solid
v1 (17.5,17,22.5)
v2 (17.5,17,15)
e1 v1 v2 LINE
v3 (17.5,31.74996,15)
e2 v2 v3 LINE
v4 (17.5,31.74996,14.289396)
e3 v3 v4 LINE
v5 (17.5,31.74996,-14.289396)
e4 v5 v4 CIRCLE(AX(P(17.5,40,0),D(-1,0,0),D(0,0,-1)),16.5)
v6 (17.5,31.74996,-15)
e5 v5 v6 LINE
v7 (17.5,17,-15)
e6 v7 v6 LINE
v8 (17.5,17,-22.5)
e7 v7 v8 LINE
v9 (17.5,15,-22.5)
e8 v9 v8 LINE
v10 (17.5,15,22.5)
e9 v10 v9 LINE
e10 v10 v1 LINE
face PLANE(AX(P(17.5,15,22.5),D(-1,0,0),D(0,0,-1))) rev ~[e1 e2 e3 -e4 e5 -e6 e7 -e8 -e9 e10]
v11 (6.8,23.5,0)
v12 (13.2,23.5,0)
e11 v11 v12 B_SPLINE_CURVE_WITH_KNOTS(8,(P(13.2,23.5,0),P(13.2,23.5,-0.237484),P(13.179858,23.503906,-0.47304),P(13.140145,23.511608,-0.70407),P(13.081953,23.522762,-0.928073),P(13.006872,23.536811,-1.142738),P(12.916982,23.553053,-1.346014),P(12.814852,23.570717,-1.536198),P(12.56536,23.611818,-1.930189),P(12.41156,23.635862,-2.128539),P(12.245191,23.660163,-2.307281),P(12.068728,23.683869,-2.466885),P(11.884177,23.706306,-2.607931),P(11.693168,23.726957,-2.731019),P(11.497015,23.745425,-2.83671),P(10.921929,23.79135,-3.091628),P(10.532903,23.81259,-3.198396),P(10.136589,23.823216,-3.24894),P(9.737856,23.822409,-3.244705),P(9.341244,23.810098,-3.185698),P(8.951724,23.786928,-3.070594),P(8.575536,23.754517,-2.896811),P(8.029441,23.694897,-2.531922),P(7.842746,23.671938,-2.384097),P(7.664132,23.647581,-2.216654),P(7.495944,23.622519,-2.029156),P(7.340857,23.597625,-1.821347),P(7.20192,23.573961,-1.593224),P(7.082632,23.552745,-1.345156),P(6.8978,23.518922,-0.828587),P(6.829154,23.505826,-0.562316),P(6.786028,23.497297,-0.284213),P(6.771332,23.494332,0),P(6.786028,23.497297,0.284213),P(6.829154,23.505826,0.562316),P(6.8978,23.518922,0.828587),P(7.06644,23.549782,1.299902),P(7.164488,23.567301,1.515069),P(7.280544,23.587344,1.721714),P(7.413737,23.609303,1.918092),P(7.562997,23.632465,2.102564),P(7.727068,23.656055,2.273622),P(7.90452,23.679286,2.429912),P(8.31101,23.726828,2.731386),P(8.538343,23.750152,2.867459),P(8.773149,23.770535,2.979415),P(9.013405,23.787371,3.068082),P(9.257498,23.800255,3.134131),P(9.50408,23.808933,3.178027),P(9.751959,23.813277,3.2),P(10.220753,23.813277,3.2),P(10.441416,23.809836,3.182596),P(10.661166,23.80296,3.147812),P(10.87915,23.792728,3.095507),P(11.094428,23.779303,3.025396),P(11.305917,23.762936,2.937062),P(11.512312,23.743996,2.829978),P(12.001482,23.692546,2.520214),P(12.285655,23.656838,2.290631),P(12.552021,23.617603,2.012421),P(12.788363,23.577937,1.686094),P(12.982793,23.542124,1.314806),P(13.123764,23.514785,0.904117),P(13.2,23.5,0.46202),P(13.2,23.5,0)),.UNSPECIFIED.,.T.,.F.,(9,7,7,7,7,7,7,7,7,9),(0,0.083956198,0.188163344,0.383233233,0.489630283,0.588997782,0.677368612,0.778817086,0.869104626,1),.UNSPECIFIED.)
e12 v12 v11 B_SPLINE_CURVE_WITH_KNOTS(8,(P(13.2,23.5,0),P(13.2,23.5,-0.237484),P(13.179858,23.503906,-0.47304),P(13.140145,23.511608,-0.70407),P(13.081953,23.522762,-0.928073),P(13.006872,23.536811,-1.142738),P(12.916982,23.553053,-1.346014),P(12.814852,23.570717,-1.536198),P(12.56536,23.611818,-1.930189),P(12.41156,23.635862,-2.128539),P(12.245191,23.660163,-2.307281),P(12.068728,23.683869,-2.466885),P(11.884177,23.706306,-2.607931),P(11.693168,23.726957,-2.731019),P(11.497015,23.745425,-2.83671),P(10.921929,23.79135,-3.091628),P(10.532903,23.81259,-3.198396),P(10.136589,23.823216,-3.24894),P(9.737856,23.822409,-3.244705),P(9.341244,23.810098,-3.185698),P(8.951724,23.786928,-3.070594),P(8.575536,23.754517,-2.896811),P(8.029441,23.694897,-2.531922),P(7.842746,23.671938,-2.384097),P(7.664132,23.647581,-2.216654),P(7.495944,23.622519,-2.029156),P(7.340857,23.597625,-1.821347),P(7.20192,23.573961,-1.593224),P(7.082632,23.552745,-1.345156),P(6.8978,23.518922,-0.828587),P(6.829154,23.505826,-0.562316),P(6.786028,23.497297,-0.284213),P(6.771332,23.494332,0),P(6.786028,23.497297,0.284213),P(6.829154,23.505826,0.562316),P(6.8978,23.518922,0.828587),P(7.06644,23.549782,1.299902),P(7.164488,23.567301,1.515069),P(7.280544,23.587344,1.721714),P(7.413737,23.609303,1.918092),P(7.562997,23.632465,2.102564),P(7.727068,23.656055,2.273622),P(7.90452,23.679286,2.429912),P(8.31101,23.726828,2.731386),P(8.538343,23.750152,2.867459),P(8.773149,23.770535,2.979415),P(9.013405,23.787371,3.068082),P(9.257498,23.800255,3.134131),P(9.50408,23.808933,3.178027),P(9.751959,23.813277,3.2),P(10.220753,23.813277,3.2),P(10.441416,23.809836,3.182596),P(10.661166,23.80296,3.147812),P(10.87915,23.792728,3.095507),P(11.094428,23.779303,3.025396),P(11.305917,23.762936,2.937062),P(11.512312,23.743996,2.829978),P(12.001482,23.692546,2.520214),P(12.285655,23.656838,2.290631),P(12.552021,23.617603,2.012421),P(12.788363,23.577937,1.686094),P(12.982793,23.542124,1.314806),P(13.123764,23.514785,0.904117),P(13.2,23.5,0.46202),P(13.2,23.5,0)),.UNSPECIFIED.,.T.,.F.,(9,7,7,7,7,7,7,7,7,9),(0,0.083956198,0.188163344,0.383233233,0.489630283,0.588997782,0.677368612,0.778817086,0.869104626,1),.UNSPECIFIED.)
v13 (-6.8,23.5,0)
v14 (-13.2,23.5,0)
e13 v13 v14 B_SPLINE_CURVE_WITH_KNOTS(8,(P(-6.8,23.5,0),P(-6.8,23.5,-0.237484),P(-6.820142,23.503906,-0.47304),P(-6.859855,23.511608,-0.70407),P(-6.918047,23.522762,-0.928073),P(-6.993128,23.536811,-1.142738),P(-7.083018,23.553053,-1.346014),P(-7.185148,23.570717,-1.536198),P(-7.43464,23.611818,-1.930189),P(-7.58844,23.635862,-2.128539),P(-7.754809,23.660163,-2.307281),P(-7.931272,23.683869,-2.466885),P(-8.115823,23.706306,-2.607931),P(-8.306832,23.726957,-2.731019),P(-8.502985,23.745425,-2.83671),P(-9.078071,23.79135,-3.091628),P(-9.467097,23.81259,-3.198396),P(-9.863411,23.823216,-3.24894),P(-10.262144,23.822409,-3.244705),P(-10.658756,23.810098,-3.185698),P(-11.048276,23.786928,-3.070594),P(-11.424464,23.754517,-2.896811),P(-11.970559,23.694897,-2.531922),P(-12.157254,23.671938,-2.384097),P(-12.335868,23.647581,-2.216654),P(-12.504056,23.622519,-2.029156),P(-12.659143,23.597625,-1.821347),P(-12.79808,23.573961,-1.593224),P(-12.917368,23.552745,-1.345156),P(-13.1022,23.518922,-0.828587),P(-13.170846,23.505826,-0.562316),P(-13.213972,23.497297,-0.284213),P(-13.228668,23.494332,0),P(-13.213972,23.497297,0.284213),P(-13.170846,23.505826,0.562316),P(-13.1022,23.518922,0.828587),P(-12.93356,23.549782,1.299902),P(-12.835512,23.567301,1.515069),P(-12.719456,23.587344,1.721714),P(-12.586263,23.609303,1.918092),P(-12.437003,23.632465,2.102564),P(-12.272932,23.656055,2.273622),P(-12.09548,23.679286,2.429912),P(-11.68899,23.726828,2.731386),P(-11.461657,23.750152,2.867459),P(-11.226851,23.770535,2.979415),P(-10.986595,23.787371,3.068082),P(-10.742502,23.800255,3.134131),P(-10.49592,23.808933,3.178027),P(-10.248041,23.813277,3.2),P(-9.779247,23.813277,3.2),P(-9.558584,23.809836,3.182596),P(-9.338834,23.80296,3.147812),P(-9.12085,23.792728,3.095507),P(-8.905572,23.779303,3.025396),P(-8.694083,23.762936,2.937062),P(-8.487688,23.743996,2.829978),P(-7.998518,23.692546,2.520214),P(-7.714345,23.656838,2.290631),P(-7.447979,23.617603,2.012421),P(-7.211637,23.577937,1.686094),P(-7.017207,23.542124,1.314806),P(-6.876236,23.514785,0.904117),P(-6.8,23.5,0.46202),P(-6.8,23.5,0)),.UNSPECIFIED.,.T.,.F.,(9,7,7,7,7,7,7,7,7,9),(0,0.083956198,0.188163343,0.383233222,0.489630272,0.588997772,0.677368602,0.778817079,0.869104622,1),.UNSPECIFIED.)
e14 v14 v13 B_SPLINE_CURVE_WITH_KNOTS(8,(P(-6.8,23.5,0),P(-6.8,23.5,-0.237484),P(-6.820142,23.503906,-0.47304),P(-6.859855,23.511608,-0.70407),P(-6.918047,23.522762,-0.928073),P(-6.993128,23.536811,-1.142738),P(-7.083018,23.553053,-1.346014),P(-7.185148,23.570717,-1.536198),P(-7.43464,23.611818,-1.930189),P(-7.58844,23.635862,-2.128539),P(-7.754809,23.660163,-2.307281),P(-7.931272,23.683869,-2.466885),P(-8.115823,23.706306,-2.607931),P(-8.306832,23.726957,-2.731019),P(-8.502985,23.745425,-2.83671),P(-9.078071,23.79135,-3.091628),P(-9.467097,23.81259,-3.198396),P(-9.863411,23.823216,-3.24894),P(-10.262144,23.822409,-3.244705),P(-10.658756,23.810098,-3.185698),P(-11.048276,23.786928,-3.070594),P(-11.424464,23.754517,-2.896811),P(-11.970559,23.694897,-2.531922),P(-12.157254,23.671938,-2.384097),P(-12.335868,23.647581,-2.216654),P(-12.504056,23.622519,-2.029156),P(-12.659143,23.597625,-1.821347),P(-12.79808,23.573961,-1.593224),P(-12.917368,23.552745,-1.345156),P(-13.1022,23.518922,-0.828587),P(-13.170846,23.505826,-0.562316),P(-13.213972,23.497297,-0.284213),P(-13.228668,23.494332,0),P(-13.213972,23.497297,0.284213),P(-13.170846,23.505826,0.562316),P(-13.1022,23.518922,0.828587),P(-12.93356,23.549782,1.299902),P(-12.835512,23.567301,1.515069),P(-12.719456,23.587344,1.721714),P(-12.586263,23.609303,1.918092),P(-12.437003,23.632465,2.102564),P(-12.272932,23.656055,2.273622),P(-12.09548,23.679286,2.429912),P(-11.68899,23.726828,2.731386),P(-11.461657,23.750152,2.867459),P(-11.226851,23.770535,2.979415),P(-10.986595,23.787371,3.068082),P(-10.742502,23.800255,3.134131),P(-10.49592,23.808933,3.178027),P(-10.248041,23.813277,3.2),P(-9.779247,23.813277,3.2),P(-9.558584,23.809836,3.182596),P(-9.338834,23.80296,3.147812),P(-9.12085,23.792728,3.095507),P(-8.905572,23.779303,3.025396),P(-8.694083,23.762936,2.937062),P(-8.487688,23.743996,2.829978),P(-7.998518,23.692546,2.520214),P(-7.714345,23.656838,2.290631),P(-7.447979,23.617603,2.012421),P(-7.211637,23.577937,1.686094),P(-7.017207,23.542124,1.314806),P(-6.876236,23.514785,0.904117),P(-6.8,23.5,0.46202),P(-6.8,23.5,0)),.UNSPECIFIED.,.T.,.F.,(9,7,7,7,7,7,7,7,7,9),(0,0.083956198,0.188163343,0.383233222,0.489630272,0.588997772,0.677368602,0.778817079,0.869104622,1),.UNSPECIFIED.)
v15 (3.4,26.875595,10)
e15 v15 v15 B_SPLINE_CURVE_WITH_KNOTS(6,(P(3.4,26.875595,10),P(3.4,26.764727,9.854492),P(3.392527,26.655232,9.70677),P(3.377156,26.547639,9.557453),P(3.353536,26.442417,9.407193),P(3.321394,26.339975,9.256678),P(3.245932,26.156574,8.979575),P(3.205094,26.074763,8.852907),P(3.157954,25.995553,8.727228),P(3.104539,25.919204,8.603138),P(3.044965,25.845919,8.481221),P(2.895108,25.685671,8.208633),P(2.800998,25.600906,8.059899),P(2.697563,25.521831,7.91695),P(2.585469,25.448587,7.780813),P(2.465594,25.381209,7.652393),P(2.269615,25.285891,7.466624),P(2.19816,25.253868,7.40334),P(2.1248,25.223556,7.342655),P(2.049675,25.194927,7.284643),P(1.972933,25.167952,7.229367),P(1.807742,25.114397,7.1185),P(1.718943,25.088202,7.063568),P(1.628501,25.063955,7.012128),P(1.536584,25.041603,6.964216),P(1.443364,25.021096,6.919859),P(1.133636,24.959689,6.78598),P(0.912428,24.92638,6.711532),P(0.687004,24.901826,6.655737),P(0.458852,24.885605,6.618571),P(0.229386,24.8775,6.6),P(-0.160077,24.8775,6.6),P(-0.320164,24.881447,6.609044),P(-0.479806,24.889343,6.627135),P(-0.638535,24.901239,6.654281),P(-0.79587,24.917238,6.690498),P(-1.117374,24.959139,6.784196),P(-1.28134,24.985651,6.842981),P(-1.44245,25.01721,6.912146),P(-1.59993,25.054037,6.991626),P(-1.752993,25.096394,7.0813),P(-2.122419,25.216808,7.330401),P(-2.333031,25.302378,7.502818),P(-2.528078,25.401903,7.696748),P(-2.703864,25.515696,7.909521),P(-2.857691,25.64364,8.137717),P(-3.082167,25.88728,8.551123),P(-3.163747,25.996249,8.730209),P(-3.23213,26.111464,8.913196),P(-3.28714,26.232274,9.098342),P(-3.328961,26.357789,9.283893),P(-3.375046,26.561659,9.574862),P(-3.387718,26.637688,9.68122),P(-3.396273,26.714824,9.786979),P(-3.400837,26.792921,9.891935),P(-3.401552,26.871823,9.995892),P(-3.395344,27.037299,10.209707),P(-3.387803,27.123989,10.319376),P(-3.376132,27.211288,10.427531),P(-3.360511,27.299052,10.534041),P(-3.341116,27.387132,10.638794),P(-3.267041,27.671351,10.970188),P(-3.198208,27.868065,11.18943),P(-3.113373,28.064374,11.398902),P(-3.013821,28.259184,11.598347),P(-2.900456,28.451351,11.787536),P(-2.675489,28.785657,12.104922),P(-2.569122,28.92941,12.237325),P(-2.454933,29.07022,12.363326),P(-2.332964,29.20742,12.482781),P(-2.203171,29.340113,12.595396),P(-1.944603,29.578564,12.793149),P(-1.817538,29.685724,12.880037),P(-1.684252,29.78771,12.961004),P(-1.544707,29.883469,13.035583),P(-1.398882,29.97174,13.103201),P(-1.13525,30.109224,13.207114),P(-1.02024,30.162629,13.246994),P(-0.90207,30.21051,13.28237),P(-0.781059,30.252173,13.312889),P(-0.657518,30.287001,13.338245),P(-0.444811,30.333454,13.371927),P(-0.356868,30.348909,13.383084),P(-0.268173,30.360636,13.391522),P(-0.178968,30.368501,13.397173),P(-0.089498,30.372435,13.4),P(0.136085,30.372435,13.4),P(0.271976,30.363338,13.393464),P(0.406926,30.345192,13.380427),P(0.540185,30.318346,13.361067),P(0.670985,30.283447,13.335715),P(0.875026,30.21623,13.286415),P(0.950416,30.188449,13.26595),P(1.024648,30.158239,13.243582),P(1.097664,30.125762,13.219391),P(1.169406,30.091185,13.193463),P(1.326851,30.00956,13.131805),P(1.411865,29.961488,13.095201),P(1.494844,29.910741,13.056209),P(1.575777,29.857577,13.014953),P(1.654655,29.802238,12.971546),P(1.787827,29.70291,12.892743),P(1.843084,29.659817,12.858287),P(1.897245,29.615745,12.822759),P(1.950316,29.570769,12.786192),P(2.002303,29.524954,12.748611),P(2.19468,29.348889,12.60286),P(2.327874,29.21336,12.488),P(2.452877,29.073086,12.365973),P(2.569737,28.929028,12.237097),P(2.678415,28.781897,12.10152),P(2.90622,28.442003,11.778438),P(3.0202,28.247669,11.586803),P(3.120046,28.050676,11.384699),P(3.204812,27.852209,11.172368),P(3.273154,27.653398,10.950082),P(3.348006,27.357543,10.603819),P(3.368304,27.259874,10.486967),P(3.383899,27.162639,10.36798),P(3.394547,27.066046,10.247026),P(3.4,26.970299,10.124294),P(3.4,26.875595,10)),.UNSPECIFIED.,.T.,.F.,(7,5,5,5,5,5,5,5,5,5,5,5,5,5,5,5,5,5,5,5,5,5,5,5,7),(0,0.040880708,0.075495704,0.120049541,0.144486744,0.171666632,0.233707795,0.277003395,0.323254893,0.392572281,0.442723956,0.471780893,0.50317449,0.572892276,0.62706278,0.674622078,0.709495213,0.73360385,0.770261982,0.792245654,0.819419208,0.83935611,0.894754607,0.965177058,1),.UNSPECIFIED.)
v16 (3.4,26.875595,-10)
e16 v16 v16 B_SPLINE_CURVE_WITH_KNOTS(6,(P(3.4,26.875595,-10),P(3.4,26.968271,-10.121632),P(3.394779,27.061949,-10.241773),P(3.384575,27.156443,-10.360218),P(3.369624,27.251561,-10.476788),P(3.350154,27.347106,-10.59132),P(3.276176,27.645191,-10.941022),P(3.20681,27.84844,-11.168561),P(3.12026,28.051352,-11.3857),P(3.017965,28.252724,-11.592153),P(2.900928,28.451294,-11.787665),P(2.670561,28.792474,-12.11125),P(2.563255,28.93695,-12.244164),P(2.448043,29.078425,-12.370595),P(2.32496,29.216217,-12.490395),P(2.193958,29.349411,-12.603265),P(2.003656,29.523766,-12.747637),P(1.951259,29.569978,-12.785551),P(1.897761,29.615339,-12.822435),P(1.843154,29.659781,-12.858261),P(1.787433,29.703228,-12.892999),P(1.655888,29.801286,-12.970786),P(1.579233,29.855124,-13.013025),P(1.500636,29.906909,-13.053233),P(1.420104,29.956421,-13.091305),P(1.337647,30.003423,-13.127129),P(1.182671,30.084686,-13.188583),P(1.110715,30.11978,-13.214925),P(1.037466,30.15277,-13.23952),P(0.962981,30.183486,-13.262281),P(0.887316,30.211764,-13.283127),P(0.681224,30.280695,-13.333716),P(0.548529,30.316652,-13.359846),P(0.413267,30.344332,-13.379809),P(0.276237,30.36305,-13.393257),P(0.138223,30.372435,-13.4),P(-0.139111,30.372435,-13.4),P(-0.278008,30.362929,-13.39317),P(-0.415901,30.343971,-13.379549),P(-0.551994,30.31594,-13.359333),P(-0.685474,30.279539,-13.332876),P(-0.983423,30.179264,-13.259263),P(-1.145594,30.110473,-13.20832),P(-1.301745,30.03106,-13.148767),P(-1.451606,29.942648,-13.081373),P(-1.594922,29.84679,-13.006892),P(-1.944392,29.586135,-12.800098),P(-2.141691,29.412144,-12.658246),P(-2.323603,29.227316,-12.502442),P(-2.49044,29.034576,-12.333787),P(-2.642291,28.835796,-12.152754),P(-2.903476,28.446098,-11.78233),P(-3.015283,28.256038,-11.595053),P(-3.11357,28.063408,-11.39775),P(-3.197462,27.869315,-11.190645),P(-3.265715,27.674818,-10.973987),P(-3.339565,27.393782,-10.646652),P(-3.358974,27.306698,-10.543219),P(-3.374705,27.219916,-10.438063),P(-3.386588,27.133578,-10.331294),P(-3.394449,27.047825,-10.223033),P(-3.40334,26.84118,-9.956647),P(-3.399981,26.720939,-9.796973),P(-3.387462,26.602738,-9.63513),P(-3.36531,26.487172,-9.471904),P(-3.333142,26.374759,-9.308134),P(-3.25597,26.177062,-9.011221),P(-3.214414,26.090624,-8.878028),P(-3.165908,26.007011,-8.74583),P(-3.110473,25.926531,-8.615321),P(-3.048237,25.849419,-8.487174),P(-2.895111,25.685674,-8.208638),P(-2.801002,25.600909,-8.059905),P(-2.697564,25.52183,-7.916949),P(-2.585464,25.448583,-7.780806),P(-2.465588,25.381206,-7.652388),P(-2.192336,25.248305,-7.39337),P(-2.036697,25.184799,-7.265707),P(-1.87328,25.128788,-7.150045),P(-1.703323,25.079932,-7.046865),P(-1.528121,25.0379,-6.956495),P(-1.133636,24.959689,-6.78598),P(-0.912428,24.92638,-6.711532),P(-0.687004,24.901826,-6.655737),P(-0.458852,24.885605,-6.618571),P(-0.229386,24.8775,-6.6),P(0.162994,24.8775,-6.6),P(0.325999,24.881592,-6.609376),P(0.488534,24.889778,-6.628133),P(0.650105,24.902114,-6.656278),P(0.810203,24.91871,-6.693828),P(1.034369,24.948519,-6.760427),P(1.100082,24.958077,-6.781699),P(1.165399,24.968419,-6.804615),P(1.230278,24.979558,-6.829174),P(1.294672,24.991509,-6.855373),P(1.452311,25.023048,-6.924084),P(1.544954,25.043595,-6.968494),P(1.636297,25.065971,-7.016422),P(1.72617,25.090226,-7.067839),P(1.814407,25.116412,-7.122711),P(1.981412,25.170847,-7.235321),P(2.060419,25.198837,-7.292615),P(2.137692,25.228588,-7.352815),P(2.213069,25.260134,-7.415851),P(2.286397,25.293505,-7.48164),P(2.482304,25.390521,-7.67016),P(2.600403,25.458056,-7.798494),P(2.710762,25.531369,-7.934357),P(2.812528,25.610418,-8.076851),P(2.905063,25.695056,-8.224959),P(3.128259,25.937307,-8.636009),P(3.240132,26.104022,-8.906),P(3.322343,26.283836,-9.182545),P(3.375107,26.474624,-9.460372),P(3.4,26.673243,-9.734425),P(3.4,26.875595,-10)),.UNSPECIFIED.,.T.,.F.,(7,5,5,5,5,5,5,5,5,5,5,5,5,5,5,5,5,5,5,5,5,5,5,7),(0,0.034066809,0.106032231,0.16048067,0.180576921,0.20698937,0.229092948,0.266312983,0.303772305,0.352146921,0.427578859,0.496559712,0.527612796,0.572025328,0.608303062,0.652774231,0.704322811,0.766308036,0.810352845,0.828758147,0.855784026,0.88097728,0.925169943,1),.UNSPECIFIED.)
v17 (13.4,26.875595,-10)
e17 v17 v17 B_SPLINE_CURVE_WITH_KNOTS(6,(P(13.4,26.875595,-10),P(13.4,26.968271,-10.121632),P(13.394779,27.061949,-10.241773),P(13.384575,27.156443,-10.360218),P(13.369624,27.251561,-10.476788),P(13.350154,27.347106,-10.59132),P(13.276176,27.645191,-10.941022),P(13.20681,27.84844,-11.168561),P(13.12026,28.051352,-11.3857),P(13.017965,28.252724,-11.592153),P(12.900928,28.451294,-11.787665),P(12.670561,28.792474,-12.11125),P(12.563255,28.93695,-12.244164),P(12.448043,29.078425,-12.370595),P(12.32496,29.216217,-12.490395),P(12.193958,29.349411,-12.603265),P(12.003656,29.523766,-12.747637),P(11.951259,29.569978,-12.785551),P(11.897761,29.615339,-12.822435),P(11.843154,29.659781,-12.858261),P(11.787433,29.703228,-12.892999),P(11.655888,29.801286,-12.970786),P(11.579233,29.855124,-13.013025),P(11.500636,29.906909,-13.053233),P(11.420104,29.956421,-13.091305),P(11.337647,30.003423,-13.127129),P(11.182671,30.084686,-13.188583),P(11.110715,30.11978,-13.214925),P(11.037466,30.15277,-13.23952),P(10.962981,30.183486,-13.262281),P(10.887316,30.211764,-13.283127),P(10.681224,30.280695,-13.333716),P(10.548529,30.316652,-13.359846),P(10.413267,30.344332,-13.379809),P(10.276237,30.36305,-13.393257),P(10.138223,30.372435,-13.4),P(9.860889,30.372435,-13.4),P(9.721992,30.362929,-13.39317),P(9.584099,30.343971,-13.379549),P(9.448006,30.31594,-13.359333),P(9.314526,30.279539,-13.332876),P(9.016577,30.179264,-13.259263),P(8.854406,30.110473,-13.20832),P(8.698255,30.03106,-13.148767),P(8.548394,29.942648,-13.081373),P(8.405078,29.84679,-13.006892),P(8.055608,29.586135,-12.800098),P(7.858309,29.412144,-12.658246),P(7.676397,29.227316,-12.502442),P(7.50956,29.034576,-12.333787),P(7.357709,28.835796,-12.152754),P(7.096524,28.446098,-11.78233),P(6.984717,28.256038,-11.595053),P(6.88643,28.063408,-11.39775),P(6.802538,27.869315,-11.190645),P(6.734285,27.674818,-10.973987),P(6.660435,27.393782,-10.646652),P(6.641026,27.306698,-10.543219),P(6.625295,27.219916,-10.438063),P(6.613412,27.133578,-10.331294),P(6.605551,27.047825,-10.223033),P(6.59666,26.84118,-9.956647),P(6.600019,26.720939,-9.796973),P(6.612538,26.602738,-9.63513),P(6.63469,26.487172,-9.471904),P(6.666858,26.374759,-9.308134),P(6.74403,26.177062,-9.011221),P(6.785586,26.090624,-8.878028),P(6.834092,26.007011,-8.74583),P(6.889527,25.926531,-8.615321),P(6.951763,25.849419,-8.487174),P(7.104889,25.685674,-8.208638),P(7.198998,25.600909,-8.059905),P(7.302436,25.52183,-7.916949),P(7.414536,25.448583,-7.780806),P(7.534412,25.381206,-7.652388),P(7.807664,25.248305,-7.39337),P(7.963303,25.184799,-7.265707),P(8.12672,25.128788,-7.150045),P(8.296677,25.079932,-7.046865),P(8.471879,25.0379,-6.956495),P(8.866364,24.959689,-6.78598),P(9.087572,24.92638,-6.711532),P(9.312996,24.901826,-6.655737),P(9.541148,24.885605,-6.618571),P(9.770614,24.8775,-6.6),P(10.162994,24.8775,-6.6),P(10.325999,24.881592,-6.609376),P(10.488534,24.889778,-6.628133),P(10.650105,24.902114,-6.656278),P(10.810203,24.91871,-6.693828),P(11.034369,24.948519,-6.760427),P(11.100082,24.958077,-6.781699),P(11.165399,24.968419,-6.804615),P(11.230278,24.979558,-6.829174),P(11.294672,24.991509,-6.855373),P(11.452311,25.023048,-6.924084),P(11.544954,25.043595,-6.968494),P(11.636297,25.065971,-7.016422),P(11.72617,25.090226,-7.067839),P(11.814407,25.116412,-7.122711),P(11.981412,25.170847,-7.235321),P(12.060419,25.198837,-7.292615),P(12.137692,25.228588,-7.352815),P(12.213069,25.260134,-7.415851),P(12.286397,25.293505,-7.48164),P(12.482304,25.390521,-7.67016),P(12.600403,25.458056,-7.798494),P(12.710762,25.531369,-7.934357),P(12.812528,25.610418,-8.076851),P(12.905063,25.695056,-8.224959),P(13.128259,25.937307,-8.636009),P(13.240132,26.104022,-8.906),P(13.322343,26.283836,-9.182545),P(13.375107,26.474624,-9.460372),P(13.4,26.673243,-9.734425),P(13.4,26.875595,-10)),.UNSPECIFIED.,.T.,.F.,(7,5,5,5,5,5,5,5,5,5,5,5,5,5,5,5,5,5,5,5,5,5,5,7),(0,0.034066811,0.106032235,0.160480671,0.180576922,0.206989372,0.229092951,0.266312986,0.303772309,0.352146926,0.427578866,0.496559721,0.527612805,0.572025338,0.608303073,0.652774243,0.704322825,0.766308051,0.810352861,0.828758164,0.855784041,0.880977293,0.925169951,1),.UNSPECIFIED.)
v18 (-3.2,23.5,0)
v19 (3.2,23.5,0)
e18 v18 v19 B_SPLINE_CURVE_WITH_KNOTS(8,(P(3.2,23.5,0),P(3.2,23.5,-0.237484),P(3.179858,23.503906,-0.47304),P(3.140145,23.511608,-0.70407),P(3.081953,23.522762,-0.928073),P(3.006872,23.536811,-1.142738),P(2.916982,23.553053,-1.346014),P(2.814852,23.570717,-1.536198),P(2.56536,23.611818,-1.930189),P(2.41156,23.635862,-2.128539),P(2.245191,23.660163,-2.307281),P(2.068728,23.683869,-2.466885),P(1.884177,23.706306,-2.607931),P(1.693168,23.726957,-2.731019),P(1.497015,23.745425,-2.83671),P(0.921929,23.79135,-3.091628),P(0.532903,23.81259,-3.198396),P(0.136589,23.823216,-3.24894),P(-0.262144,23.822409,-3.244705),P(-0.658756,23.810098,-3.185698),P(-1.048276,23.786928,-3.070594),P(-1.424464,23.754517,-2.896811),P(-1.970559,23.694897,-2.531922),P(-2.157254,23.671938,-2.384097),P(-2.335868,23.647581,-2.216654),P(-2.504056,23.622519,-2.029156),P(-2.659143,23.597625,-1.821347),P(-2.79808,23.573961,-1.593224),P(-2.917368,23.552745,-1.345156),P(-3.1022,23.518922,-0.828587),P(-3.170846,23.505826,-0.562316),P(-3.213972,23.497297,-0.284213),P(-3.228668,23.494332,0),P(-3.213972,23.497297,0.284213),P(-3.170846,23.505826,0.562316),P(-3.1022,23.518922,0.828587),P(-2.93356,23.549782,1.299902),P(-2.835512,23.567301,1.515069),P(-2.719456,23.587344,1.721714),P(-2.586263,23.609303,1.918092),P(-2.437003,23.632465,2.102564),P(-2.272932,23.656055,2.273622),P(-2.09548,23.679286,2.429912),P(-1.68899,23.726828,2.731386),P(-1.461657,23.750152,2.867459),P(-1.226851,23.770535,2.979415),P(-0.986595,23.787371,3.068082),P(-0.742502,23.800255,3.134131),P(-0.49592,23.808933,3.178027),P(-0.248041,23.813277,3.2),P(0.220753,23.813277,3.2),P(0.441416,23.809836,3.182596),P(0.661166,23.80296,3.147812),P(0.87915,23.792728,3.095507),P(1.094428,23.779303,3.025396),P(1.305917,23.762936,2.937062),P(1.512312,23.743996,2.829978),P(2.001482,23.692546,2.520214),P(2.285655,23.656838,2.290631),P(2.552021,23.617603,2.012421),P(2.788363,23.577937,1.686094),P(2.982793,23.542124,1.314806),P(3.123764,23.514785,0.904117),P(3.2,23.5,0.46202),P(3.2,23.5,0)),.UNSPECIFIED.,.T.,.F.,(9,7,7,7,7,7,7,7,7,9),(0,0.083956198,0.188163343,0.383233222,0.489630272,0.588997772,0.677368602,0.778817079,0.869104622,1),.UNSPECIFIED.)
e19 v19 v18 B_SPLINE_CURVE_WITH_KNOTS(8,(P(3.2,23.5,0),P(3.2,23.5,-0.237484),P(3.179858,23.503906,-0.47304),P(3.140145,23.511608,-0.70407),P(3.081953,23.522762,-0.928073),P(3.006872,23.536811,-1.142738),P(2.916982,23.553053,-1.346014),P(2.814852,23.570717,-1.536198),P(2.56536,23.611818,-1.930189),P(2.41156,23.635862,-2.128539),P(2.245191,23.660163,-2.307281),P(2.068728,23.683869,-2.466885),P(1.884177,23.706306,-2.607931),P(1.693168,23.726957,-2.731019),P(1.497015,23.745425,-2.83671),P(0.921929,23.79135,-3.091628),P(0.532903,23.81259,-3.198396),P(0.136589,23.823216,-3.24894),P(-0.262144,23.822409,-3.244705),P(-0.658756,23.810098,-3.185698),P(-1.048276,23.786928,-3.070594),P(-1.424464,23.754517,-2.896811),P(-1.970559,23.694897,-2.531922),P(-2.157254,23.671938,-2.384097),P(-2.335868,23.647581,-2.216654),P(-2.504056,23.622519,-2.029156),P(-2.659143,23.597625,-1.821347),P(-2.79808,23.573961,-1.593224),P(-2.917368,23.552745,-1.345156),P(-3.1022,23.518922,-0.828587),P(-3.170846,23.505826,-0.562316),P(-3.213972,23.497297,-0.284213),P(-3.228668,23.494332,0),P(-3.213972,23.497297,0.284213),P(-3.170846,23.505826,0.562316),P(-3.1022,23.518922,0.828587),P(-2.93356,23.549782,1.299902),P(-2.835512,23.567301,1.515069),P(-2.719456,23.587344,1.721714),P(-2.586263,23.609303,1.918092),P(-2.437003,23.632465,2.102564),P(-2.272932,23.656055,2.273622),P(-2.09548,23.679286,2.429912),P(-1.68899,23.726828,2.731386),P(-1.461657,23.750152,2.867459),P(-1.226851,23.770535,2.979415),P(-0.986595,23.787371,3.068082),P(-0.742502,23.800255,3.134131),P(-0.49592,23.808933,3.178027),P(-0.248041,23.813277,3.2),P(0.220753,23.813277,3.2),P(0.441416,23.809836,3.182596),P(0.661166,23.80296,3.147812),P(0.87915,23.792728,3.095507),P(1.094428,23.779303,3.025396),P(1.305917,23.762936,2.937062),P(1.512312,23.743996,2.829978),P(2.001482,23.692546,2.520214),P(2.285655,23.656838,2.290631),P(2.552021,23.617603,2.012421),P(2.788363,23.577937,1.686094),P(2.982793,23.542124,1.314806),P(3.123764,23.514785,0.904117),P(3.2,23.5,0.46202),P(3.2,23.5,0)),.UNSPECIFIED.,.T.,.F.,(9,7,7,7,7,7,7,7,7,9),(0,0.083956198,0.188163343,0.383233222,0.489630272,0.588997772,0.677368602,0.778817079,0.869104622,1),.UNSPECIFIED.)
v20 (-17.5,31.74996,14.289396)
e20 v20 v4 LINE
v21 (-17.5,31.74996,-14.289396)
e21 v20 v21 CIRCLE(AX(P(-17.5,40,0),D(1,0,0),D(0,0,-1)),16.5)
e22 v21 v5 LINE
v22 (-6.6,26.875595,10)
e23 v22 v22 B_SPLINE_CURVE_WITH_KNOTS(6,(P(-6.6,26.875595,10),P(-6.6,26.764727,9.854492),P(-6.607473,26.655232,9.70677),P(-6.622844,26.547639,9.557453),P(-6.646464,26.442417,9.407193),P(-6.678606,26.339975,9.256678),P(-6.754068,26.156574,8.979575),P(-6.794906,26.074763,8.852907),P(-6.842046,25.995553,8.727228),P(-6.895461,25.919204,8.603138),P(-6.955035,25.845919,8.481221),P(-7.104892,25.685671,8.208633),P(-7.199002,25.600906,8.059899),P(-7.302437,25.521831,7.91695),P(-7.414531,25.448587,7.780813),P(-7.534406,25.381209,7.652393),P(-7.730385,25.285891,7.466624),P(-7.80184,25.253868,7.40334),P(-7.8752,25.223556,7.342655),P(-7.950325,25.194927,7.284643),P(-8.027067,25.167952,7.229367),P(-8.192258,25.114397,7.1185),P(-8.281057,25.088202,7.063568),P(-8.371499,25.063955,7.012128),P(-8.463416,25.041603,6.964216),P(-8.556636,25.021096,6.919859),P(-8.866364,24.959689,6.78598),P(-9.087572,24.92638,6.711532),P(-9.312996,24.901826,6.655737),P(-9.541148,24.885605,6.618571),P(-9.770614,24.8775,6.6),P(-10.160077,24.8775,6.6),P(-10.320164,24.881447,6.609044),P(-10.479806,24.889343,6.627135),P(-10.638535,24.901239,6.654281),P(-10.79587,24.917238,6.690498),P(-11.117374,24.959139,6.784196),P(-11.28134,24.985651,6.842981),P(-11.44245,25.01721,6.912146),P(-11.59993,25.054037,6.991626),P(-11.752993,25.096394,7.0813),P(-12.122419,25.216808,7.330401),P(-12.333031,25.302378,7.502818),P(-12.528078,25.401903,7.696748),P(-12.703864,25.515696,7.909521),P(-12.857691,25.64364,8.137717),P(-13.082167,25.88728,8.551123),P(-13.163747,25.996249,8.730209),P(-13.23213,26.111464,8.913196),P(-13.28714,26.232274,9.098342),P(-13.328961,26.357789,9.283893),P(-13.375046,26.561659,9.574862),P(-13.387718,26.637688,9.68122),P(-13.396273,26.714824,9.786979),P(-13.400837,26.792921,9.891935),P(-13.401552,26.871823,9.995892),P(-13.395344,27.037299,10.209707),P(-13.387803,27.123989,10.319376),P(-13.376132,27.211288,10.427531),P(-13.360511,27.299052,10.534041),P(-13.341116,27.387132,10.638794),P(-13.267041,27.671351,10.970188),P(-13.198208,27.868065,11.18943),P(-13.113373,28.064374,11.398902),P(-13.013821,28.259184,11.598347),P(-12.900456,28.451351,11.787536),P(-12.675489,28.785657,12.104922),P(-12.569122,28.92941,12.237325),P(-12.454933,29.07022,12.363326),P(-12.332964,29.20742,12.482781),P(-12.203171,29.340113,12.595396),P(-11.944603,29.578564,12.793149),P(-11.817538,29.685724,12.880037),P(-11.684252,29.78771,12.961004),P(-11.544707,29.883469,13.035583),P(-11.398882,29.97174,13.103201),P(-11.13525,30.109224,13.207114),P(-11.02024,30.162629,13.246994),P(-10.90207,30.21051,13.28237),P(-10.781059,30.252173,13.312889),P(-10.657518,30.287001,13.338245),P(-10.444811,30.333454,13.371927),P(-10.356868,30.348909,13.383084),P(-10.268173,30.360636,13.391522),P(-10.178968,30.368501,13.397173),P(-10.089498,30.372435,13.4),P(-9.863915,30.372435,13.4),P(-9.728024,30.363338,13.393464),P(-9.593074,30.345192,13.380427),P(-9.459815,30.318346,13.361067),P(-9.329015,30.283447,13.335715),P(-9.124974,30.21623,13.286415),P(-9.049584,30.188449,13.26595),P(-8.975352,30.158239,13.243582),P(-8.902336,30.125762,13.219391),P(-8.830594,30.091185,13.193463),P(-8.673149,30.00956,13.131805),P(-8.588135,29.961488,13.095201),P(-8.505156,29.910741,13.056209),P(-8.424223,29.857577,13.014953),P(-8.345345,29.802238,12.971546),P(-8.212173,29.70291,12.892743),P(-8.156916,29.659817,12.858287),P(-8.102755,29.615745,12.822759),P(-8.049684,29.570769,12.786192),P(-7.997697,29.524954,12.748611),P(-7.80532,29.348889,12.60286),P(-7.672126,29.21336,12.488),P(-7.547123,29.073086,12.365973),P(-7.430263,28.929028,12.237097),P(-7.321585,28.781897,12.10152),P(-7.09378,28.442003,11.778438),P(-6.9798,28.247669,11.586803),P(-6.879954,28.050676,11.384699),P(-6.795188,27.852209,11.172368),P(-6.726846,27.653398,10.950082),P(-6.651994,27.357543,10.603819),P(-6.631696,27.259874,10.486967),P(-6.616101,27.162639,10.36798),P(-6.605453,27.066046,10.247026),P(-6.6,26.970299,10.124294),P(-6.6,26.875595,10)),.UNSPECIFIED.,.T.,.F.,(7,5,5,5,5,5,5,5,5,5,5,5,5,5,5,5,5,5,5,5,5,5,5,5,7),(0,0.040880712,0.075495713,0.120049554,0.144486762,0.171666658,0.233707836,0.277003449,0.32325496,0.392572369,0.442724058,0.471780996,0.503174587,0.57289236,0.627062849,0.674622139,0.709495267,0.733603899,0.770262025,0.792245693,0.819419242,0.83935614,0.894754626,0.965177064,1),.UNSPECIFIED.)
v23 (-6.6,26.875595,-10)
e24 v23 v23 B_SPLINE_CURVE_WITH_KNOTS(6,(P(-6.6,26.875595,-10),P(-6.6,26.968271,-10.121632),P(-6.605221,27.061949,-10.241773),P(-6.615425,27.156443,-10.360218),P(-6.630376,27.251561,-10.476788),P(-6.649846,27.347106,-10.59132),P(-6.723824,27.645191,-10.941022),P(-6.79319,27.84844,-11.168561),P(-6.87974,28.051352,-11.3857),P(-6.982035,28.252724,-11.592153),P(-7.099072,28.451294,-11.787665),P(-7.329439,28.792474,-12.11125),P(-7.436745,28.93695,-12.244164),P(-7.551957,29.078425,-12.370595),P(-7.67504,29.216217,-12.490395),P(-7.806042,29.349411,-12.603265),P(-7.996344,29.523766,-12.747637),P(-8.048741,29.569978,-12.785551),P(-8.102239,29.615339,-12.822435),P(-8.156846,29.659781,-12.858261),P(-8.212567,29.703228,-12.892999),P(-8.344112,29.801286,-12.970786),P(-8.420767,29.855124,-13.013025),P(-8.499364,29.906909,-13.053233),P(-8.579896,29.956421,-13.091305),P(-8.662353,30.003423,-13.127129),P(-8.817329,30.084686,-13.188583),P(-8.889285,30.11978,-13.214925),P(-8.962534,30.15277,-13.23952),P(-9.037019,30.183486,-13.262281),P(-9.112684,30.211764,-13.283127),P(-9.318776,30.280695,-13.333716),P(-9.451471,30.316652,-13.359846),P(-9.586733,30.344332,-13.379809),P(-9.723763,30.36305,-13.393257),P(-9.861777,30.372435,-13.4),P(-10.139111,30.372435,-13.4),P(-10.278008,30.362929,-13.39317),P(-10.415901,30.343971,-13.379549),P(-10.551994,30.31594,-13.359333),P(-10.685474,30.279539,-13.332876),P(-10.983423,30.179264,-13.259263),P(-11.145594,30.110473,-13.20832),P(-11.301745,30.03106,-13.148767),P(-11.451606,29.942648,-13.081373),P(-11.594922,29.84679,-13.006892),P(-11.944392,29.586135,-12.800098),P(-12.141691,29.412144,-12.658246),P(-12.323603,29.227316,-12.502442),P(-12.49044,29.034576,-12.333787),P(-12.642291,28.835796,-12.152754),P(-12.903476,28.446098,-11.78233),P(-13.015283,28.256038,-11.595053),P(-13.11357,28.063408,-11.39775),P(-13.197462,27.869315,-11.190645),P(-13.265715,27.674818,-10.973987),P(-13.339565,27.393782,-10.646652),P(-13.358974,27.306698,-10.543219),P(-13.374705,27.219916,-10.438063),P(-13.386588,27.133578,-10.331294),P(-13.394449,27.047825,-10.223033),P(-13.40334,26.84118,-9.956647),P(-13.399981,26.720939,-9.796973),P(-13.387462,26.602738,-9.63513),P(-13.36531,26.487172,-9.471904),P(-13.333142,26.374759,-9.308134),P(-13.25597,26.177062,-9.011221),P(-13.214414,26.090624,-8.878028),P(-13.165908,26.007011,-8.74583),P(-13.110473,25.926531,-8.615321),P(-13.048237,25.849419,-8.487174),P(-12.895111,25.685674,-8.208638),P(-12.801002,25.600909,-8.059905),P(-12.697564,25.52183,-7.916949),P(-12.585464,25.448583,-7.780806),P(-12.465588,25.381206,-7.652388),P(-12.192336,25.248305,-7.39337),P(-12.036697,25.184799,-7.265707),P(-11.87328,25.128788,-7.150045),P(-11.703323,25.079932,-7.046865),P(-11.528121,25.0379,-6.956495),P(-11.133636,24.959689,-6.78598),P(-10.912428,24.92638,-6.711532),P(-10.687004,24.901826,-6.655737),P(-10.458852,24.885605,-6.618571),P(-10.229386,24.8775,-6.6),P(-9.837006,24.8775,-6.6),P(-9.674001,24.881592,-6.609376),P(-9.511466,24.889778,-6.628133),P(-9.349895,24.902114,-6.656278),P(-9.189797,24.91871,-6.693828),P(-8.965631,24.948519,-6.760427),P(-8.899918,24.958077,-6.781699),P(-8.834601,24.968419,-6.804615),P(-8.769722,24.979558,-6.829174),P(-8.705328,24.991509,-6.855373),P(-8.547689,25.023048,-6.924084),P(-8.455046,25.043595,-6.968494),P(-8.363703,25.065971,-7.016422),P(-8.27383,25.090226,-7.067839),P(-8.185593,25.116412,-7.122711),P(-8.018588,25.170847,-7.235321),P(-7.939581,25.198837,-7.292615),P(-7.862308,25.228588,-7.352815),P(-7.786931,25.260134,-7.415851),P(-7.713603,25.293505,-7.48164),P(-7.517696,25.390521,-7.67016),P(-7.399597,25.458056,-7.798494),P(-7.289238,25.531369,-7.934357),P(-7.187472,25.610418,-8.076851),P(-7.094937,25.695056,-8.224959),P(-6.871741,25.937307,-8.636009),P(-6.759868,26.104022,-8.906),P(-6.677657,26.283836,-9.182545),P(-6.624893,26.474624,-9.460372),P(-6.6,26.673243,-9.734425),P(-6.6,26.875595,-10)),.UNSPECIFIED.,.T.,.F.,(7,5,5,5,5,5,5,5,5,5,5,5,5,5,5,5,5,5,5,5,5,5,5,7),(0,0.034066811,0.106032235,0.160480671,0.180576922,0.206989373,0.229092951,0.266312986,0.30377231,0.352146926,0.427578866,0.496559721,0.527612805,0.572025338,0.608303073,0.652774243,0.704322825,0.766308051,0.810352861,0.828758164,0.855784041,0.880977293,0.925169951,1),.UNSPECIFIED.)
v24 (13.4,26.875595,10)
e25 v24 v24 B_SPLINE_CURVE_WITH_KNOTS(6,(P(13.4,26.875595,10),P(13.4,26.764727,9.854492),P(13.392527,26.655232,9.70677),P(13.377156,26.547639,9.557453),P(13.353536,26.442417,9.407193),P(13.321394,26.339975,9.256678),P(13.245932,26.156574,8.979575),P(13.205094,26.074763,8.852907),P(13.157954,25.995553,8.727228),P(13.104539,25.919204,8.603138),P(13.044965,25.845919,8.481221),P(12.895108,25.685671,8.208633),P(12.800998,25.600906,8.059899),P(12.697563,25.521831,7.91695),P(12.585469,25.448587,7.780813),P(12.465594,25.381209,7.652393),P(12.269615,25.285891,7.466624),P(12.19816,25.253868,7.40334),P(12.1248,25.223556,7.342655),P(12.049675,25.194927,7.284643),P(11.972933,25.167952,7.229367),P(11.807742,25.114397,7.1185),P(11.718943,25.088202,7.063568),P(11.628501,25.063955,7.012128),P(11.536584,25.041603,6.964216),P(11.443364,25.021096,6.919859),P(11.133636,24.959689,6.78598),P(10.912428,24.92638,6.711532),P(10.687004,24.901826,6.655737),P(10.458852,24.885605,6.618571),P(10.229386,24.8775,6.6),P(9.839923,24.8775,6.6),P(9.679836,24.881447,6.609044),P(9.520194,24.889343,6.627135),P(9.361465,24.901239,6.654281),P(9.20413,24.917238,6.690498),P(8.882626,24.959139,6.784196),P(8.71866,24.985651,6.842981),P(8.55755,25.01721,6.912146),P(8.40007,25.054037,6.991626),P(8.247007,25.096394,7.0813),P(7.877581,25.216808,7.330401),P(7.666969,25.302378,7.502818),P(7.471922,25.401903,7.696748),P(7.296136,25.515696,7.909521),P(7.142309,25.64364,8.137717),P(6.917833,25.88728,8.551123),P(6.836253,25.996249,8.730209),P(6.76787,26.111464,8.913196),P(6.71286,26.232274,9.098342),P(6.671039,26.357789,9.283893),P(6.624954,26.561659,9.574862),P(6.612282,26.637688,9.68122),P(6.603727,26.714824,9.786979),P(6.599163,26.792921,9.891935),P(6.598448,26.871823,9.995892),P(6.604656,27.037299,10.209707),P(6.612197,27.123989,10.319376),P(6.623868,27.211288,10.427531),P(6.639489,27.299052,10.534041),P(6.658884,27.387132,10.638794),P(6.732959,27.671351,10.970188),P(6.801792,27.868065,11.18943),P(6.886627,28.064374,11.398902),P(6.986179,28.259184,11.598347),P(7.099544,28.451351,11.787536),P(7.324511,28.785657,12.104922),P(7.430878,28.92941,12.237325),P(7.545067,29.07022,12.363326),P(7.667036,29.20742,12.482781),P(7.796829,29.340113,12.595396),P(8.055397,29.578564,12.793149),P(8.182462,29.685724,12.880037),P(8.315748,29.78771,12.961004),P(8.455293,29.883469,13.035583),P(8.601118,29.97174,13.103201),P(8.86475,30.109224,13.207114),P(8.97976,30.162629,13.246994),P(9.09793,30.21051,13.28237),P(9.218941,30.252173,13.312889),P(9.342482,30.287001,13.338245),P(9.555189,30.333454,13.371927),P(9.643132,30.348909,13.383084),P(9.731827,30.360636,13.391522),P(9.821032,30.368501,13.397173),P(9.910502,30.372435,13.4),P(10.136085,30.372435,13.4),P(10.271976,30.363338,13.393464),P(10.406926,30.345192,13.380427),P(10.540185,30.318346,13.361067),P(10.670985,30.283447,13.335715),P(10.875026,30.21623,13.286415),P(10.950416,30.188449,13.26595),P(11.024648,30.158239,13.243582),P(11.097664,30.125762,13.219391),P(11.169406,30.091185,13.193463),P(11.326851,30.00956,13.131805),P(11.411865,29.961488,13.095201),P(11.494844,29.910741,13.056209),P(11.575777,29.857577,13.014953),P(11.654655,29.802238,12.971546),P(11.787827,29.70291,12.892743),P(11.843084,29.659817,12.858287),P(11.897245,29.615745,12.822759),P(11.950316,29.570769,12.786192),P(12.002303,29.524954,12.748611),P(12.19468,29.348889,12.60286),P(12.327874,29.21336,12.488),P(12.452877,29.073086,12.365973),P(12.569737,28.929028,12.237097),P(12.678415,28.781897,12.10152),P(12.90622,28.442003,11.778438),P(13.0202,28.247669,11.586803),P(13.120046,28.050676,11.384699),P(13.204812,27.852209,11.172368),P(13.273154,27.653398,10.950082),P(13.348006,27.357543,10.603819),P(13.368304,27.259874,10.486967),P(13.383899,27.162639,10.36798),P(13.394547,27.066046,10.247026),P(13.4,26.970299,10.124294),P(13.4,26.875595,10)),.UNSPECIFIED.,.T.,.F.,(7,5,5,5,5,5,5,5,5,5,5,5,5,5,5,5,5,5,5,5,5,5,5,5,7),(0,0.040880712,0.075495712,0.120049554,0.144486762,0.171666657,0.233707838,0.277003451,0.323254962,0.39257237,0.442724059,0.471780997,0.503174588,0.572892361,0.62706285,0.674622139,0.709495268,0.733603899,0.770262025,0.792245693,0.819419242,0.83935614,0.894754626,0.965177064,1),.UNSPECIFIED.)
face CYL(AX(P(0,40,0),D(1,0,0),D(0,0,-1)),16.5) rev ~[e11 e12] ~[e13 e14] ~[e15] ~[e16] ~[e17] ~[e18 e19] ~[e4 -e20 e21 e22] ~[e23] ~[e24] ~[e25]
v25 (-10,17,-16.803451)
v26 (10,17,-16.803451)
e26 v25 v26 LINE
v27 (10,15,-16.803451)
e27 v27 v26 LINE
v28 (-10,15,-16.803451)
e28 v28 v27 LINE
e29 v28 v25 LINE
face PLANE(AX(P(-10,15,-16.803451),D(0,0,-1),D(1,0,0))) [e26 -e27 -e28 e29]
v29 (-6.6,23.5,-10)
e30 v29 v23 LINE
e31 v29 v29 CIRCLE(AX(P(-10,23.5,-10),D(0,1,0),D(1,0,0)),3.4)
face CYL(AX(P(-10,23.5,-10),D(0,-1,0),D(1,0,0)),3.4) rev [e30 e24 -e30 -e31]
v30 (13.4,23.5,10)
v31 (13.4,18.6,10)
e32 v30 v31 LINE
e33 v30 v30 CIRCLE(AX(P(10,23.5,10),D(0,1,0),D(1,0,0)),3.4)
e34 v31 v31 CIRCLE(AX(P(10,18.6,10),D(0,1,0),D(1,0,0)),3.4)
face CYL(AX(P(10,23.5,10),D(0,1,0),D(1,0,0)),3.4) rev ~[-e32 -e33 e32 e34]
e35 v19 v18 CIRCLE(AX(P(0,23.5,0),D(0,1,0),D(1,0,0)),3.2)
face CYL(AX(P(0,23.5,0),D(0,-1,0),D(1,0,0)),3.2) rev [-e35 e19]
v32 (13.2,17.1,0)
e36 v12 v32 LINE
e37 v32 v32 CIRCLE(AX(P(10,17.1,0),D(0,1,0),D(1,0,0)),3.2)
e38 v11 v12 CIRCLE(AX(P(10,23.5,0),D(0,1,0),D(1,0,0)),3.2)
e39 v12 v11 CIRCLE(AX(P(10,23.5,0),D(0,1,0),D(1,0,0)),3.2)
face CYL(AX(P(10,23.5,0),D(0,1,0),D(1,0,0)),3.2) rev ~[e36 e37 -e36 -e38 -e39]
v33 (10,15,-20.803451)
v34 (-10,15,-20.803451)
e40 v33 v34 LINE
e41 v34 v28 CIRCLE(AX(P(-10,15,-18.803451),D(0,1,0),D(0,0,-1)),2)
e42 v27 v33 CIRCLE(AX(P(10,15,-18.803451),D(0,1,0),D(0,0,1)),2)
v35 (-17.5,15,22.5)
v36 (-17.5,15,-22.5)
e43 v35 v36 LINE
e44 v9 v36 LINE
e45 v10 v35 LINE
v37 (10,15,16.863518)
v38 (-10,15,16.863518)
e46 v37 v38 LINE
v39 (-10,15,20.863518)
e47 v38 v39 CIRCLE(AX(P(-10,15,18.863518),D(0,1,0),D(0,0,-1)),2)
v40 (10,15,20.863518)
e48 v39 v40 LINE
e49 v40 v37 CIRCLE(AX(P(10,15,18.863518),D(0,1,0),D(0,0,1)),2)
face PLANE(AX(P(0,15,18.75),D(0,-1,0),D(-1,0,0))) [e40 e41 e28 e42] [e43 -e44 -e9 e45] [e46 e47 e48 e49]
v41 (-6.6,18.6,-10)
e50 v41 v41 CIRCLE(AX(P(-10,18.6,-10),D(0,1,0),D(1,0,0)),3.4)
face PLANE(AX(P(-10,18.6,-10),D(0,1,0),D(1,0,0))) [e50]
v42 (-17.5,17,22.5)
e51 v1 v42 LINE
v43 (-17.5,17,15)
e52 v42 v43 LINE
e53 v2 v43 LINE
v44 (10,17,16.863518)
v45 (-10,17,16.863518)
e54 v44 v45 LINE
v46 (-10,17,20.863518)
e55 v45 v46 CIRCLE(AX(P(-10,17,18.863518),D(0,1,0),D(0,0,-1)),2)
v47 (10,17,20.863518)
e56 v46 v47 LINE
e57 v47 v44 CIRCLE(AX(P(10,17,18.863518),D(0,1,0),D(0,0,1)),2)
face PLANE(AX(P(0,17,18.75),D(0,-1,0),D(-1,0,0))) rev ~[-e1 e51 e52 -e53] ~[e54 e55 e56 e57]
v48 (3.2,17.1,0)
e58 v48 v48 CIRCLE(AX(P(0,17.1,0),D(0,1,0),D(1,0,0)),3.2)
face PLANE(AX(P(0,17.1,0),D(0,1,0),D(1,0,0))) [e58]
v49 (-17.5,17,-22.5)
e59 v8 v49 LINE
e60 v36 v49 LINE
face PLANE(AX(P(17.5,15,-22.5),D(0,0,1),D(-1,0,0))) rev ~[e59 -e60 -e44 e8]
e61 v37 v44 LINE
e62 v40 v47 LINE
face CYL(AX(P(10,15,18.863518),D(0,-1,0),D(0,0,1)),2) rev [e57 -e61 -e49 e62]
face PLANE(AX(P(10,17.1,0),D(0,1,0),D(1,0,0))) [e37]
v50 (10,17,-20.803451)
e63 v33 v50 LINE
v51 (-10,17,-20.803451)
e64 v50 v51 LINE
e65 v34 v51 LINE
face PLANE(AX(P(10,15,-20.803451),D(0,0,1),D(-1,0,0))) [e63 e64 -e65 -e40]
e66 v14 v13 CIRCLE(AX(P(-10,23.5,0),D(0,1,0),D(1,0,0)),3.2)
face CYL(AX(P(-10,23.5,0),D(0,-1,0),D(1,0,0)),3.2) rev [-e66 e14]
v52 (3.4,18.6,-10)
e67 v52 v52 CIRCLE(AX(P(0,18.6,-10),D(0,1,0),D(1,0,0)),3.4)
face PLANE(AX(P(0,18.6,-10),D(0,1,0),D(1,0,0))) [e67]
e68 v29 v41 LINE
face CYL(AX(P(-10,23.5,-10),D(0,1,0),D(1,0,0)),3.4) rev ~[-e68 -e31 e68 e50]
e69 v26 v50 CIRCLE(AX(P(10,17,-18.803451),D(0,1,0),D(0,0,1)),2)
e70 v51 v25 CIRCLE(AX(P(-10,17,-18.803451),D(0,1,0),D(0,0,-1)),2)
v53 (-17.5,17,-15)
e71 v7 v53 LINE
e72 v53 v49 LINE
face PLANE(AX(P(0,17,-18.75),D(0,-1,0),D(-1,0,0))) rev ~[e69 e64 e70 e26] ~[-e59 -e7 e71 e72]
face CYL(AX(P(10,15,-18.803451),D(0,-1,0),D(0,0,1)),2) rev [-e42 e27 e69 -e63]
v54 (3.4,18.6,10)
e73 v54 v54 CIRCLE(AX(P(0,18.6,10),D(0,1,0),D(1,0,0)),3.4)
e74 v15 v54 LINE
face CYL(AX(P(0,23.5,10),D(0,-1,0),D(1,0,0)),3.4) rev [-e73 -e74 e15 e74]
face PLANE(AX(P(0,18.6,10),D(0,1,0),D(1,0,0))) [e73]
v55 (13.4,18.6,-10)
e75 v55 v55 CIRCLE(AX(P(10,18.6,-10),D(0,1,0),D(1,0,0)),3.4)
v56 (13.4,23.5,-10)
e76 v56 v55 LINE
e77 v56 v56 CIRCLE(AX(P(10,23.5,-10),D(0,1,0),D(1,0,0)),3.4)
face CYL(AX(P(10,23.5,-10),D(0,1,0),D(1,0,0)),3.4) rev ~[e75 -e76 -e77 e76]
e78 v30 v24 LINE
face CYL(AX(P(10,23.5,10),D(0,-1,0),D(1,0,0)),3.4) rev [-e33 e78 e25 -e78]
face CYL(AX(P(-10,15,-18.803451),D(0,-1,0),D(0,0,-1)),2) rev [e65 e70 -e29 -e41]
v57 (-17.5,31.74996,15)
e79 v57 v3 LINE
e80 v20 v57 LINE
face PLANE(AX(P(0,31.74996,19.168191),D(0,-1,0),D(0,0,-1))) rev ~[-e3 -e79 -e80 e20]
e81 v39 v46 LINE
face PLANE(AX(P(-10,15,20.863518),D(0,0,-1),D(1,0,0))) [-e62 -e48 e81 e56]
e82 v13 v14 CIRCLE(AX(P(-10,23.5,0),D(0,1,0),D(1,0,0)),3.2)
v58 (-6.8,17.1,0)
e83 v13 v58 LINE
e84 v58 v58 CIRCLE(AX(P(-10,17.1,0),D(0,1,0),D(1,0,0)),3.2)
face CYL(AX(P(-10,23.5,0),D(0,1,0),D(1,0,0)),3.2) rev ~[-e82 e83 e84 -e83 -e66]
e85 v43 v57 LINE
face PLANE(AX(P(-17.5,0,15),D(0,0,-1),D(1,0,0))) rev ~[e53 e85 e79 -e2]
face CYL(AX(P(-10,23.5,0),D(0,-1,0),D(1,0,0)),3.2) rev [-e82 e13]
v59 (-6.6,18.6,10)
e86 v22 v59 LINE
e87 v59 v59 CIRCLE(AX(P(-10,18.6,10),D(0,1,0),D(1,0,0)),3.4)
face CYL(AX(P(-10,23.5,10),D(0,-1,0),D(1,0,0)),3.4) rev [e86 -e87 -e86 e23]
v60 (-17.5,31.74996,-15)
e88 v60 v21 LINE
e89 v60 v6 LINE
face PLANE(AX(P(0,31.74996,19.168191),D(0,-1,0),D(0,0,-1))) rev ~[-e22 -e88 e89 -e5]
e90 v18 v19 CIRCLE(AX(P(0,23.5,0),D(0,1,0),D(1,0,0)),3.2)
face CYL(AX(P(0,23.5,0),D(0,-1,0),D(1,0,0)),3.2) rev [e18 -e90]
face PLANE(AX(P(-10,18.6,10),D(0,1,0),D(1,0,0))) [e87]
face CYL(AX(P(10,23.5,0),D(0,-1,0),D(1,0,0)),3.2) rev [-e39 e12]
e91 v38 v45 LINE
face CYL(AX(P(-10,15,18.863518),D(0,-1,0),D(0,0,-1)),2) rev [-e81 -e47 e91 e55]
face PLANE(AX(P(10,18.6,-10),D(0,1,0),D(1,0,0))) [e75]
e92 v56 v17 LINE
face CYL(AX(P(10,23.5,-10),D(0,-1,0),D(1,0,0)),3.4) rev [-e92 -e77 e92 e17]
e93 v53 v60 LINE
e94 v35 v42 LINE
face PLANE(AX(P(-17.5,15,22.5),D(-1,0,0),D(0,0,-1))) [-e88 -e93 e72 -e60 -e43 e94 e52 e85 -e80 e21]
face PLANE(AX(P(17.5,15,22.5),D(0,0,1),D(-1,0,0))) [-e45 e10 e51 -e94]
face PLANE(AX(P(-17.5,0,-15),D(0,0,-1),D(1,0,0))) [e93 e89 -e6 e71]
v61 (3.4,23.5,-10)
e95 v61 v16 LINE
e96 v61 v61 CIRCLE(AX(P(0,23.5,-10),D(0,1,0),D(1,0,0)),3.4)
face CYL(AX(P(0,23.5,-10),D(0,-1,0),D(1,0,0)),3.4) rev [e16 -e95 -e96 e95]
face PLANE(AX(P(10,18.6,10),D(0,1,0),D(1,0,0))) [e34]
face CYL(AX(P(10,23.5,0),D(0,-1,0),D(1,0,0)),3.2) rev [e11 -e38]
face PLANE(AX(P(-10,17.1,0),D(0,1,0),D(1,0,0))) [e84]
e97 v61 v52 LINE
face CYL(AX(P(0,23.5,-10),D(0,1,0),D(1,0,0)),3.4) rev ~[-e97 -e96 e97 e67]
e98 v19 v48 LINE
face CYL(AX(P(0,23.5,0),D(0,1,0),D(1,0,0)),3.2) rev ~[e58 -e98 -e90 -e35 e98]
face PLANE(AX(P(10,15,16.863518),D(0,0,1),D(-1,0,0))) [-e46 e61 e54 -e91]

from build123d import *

# Parameters (mm, degrees)
SKETCH8_W                       = 35
SKETCH8_H                       = 30
BOSS_EXTRUDE7_DEPTH             = 80
SKETCH10_R                      = 16.5
CUT_EXTRUDE3_DEPTH              = 18.5
CUT_EXTRUDE3_DEPTH_BACK         = 18.5
SKETCH11_W                      = 38.336381606
SKETCH11_H                      = 16.50007926
CUT_EXTRUDE4_DEPTH              = 18.5
CUT_EXTRUDE4_DEPTH_BACK         = 18.5
SKETCH12_W                      = 33.824881692
SKETCH12_H                      = 15
CUT_EXTRUDE5_DEPTH              = 18.5
CUT_EXTRUDE5_DEPTH_BACK         = 18.5
SKETCH13_W                      = 45.541829225
SKETCH13_H                      = 41.48776408
CUT_EXTRUDE6_DEPTH              = 18.5
CUT_EXTRUDE6_DEPTH_BACK         = 18.5
SKETCH15_W                      = 35
SKETCH15_H                      = 7.5
BOSS_EXTRUDE9_DEPTH             = 2
CUT_EXTRUDE7_DEPTH              = 2
SKETCH18_R                      = 3.2
CUT_EXTRUDE10_DEPTH             = 9.24996037
CUT_EXTRUDE10_DEPTH_BACK        = 6.4
CUT_EXTRUDE11_REACH             = 10.25
SKETCH19_R                      = 3.4
CUT_EXTRUDE11_DIRECTION_2_DEPTH = 4.9


with BuildPart() as part:
    # Sketch8 → Boss-Extrude7 (new body)
    with BuildSketch(Plane(origin=(0, 0, 0), x_dir=(1, 0, 0), z_dir=(0, 1, 0))):
        Rectangle(SKETCH8_W, SKETCH8_H)
    extrude(amount=BOSS_EXTRUDE7_DEPTH)

    # Sketch10 → Cut-Extrude3 (cut, two sides)
    with BuildSketch(Plane(origin=(0, 0, 0), x_dir=(0, 0, -1), z_dir=(1, 0, 0))) as cut_extrude3_sk:
        with Locations((0, 40)):
            Circle(SKETCH10_R)
    extrude(amount=CUT_EXTRUDE3_DEPTH, mode=Mode.SUBTRACT)
    extrude(cut_extrude3_sk.sketch, amount=-CUT_EXTRUDE3_DEPTH_BACK, mode=Mode.SUBTRACT)

    # Sketch11 → Cut-Extrude4 (cut, two sides)
    with BuildSketch(Plane(origin=(0, 0, 0), x_dir=(0, 0, -1), z_dir=(1, 0, 0))) as cut_extrude4_sk:
        with Locations((0, 40)):
            Rectangle(SKETCH11_W, SKETCH11_H)
    extrude(amount=CUT_EXTRUDE4_DEPTH, mode=Mode.SUBTRACT)
    extrude(cut_extrude4_sk.sketch, amount=-CUT_EXTRUDE4_DEPTH_BACK, mode=Mode.SUBTRACT)

    # Sketch12 → Cut-Extrude5 (cut, two sides)
    with BuildSketch(Plane(origin=(0, 0, 0), x_dir=(0, 0, -1), z_dir=(1, 0, 0))) as cut_extrude5_sk:
        with Locations((0.439040256, 7.5)):
            Rectangle(SKETCH12_W, SKETCH12_H)
    extrude(amount=CUT_EXTRUDE5_DEPTH, mode=Mode.SUBTRACT)
    extrude(cut_extrude5_sk.sketch, amount=-CUT_EXTRUDE5_DEPTH_BACK, mode=Mode.SUBTRACT)

    # Sketch13 → Cut-Extrude6 (cut, two sides)
    with BuildSketch(Plane(origin=(0, 0, 0), x_dir=(0, 0, -1), z_dir=(1, 0, 0))) as cut_extrude6_sk:
        with Locations((-6.569234617, 60.808180877)):
            Rectangle(SKETCH13_W, SKETCH13_H)
    extrude(amount=CUT_EXTRUDE6_DEPTH, mode=Mode.SUBTRACT)
    extrude(cut_extrude6_sk.sketch, amount=-CUT_EXTRUDE6_DEPTH_BACK, mode=Mode.SUBTRACT)

    # Sketch15 → Boss-Extrude9 (add)
    with BuildSketch(Plane(origin=(0, 15, 0), x_dir=(-1, 0, 0), z_dir=(0, -1, 0))):
        with Locations((0, -18.75)):
            Rectangle(SKETCH15_W, SKETCH15_H)
        with Locations((0, 18.75)):
            Rectangle(SKETCH15_W, SKETCH15_H)
    extrude(amount=-BOSS_EXTRUDE9_DEPTH)

    # Sketch16 → Cut-Extrude7 (cut)
    with BuildSketch(Plane(origin=(0, 15, 0), x_dir=(-1, 0, 0), z_dir=(0, -1, 0))):
        with BuildLine():
            Line((10, -20.863517543), (-10, -20.863517543))
            ThreePointArc((-10, -20.863517543), (-12, -18.863517543), (-10, -16.863517543))
            Line((-10, -16.863517543), (10, -16.863517543))
            ThreePointArc((10, -16.863517543), (12, -18.863517543), (10, -20.863517543))
        make_face()
        with BuildLine():
            Line((10, 16.803450623), (-10, 16.803450623))
            ThreePointArc((-10, 16.803450623), (-12, 18.803450623), (-10, 20.803450623))
            Line((-10, 20.803450623), (10, 20.803450623))
            ThreePointArc((10, 20.803450623), (12, 18.803450623), (10, 16.803450623))
        make_face()
    extrude(amount=-CUT_EXTRUDE7_DEPTH, mode=Mode.SUBTRACT)

    # Sketch18 → Cut-Extrude10 (cut, two sides)
    with BuildSketch(Plane(origin=(0, 23.5, 0), x_dir=(1, 0, 0), z_dir=(0, 1, 0))) as cut_extrude10_sk:
        Circle(SKETCH18_R)
        with Locations((10, 0)):
            Circle(SKETCH18_R)
        with Locations((-10, 0)):
            Circle(SKETCH18_R)
    extrude(amount=CUT_EXTRUDE10_DEPTH, mode=Mode.SUBTRACT)
    extrude(cut_extrude10_sk.sketch, amount=-CUT_EXTRUDE10_DEPTH_BACK, mode=Mode.SUBTRACT)

    # Sketch19 → Cut-Extrude11 (cut, up to next)
    with BuildSketch(Plane(origin=(0, 23.5, 0), x_dir=(1, 0, 0), z_dir=(0, 1, 0)), mode=Mode.PRIVATE) as cut_extrude11_sk1:
        with Locations((-10, -10)):
            Circle(SKETCH19_R)
    cut_extrude11_tool1 = extrude(cut_extrude11_sk1.sketch, amount=CUT_EXTRUDE11_REACH, mode=Mode.PRIVATE) & part.part
    add(cut_extrude11_tool1.solids().sort_by_distance((-10, 23.5, 10))[0], mode=Mode.SUBTRACT)
    # Sketch19 → Cut-Extrude11 (cut, up to next)
    with BuildSketch(Plane(origin=(0, 23.5, 0), x_dir=(1, 0, 0), z_dir=(0, 1, 0)), mode=Mode.PRIVATE) as cut_extrude11_sk2:
        with Locations((0, -10)):
            Circle(SKETCH19_R)
    cut_extrude11_tool2 = extrude(cut_extrude11_sk2.sketch, amount=CUT_EXTRUDE11_REACH, mode=Mode.PRIVATE) & part.part
    add(cut_extrude11_tool2.solids().sort_by_distance((0, 23.5, 10))[0], mode=Mode.SUBTRACT)
    # Sketch19 → Cut-Extrude11 (cut, up to next)
    with BuildSketch(Plane(origin=(0, 23.5, 0), x_dir=(1, 0, 0), z_dir=(0, 1, 0)), mode=Mode.PRIVATE) as cut_extrude11_sk3:
        with Locations((10, -10)):
            Circle(SKETCH19_R)
    cut_extrude11_tool3 = extrude(cut_extrude11_sk3.sketch, amount=CUT_EXTRUDE11_REACH, mode=Mode.PRIVATE) & part.part
    add(cut_extrude11_tool3.solids().sort_by_distance((10, 23.5, 10))[0], mode=Mode.SUBTRACT)
    # Sketch19 → Cut-Extrude11 (cut, up to next)
    with BuildSketch(Plane(origin=(0, 23.5, 0), x_dir=(1, 0, 0), z_dir=(0, 1, 0)), mode=Mode.PRIVATE) as cut_extrude11_sk4:
        with Locations((-10, 10)):
            Circle(SKETCH19_R)
    cut_extrude11_tool4 = extrude(cut_extrude11_sk4.sketch, amount=CUT_EXTRUDE11_REACH, mode=Mode.PRIVATE) & part.part
    add(cut_extrude11_tool4.solids().sort_by_distance((-10, 23.5, -10))[0], mode=Mode.SUBTRACT)
    # Sketch19 → Cut-Extrude11 (cut, up to next)
    with BuildSketch(Plane(origin=(0, 23.5, 0), x_dir=(1, 0, 0), z_dir=(0, 1, 0)), mode=Mode.PRIVATE) as cut_extrude11_sk5:
        with Locations((0, 10)):
            Circle(SKETCH19_R)
    cut_extrude11_tool5 = extrude(cut_extrude11_sk5.sketch, amount=CUT_EXTRUDE11_REACH, mode=Mode.PRIVATE) & part.part
    add(cut_extrude11_tool5.solids().sort_by_distance((0, 23.5, -10))[0], mode=Mode.SUBTRACT)
    # Sketch19 → Cut-Extrude11 (cut, up to next)
    with BuildSketch(Plane(origin=(0, 23.5, 0), x_dir=(1, 0, 0), z_dir=(0, 1, 0)), mode=Mode.PRIVATE) as cut_extrude11_sk6:
        with Locations((10, 10)):
            Circle(SKETCH19_R)
    cut_extrude11_tool6 = extrude(cut_extrude11_sk6.sketch, amount=CUT_EXTRUDE11_REACH, mode=Mode.PRIVATE) & part.part
    add(cut_extrude11_tool6.solids().sort_by_distance((10, 23.5, -10))[0], mode=Mode.SUBTRACT)

    # Sketch19 → Cut-Extrude11 direction 2 (cut)
    with BuildSketch(Plane(origin=(0, 23.5, 0), x_dir=(1, 0, 0), z_dir=(0, 1, 0))):
        with Locations((-10, -10)):
            Circle(SKETCH19_R)
        with Locations((0, -10)):
            Circle(SKETCH19_R)
        with Locations((10, -10)):
            Circle(SKETCH19_R)
        with Locations((-10, 10)):
            Circle(SKETCH19_R)
        with Locations((0, 10)):
            Circle(SKETCH19_R)
        with Locations((10, 10)):
            Circle(SKETCH19_R)
    extrude(amount=-CUT_EXTRUDE11_DIRECTION_2_DEPTH, mode=Mode.SUBTRACT)


solid = part.part
